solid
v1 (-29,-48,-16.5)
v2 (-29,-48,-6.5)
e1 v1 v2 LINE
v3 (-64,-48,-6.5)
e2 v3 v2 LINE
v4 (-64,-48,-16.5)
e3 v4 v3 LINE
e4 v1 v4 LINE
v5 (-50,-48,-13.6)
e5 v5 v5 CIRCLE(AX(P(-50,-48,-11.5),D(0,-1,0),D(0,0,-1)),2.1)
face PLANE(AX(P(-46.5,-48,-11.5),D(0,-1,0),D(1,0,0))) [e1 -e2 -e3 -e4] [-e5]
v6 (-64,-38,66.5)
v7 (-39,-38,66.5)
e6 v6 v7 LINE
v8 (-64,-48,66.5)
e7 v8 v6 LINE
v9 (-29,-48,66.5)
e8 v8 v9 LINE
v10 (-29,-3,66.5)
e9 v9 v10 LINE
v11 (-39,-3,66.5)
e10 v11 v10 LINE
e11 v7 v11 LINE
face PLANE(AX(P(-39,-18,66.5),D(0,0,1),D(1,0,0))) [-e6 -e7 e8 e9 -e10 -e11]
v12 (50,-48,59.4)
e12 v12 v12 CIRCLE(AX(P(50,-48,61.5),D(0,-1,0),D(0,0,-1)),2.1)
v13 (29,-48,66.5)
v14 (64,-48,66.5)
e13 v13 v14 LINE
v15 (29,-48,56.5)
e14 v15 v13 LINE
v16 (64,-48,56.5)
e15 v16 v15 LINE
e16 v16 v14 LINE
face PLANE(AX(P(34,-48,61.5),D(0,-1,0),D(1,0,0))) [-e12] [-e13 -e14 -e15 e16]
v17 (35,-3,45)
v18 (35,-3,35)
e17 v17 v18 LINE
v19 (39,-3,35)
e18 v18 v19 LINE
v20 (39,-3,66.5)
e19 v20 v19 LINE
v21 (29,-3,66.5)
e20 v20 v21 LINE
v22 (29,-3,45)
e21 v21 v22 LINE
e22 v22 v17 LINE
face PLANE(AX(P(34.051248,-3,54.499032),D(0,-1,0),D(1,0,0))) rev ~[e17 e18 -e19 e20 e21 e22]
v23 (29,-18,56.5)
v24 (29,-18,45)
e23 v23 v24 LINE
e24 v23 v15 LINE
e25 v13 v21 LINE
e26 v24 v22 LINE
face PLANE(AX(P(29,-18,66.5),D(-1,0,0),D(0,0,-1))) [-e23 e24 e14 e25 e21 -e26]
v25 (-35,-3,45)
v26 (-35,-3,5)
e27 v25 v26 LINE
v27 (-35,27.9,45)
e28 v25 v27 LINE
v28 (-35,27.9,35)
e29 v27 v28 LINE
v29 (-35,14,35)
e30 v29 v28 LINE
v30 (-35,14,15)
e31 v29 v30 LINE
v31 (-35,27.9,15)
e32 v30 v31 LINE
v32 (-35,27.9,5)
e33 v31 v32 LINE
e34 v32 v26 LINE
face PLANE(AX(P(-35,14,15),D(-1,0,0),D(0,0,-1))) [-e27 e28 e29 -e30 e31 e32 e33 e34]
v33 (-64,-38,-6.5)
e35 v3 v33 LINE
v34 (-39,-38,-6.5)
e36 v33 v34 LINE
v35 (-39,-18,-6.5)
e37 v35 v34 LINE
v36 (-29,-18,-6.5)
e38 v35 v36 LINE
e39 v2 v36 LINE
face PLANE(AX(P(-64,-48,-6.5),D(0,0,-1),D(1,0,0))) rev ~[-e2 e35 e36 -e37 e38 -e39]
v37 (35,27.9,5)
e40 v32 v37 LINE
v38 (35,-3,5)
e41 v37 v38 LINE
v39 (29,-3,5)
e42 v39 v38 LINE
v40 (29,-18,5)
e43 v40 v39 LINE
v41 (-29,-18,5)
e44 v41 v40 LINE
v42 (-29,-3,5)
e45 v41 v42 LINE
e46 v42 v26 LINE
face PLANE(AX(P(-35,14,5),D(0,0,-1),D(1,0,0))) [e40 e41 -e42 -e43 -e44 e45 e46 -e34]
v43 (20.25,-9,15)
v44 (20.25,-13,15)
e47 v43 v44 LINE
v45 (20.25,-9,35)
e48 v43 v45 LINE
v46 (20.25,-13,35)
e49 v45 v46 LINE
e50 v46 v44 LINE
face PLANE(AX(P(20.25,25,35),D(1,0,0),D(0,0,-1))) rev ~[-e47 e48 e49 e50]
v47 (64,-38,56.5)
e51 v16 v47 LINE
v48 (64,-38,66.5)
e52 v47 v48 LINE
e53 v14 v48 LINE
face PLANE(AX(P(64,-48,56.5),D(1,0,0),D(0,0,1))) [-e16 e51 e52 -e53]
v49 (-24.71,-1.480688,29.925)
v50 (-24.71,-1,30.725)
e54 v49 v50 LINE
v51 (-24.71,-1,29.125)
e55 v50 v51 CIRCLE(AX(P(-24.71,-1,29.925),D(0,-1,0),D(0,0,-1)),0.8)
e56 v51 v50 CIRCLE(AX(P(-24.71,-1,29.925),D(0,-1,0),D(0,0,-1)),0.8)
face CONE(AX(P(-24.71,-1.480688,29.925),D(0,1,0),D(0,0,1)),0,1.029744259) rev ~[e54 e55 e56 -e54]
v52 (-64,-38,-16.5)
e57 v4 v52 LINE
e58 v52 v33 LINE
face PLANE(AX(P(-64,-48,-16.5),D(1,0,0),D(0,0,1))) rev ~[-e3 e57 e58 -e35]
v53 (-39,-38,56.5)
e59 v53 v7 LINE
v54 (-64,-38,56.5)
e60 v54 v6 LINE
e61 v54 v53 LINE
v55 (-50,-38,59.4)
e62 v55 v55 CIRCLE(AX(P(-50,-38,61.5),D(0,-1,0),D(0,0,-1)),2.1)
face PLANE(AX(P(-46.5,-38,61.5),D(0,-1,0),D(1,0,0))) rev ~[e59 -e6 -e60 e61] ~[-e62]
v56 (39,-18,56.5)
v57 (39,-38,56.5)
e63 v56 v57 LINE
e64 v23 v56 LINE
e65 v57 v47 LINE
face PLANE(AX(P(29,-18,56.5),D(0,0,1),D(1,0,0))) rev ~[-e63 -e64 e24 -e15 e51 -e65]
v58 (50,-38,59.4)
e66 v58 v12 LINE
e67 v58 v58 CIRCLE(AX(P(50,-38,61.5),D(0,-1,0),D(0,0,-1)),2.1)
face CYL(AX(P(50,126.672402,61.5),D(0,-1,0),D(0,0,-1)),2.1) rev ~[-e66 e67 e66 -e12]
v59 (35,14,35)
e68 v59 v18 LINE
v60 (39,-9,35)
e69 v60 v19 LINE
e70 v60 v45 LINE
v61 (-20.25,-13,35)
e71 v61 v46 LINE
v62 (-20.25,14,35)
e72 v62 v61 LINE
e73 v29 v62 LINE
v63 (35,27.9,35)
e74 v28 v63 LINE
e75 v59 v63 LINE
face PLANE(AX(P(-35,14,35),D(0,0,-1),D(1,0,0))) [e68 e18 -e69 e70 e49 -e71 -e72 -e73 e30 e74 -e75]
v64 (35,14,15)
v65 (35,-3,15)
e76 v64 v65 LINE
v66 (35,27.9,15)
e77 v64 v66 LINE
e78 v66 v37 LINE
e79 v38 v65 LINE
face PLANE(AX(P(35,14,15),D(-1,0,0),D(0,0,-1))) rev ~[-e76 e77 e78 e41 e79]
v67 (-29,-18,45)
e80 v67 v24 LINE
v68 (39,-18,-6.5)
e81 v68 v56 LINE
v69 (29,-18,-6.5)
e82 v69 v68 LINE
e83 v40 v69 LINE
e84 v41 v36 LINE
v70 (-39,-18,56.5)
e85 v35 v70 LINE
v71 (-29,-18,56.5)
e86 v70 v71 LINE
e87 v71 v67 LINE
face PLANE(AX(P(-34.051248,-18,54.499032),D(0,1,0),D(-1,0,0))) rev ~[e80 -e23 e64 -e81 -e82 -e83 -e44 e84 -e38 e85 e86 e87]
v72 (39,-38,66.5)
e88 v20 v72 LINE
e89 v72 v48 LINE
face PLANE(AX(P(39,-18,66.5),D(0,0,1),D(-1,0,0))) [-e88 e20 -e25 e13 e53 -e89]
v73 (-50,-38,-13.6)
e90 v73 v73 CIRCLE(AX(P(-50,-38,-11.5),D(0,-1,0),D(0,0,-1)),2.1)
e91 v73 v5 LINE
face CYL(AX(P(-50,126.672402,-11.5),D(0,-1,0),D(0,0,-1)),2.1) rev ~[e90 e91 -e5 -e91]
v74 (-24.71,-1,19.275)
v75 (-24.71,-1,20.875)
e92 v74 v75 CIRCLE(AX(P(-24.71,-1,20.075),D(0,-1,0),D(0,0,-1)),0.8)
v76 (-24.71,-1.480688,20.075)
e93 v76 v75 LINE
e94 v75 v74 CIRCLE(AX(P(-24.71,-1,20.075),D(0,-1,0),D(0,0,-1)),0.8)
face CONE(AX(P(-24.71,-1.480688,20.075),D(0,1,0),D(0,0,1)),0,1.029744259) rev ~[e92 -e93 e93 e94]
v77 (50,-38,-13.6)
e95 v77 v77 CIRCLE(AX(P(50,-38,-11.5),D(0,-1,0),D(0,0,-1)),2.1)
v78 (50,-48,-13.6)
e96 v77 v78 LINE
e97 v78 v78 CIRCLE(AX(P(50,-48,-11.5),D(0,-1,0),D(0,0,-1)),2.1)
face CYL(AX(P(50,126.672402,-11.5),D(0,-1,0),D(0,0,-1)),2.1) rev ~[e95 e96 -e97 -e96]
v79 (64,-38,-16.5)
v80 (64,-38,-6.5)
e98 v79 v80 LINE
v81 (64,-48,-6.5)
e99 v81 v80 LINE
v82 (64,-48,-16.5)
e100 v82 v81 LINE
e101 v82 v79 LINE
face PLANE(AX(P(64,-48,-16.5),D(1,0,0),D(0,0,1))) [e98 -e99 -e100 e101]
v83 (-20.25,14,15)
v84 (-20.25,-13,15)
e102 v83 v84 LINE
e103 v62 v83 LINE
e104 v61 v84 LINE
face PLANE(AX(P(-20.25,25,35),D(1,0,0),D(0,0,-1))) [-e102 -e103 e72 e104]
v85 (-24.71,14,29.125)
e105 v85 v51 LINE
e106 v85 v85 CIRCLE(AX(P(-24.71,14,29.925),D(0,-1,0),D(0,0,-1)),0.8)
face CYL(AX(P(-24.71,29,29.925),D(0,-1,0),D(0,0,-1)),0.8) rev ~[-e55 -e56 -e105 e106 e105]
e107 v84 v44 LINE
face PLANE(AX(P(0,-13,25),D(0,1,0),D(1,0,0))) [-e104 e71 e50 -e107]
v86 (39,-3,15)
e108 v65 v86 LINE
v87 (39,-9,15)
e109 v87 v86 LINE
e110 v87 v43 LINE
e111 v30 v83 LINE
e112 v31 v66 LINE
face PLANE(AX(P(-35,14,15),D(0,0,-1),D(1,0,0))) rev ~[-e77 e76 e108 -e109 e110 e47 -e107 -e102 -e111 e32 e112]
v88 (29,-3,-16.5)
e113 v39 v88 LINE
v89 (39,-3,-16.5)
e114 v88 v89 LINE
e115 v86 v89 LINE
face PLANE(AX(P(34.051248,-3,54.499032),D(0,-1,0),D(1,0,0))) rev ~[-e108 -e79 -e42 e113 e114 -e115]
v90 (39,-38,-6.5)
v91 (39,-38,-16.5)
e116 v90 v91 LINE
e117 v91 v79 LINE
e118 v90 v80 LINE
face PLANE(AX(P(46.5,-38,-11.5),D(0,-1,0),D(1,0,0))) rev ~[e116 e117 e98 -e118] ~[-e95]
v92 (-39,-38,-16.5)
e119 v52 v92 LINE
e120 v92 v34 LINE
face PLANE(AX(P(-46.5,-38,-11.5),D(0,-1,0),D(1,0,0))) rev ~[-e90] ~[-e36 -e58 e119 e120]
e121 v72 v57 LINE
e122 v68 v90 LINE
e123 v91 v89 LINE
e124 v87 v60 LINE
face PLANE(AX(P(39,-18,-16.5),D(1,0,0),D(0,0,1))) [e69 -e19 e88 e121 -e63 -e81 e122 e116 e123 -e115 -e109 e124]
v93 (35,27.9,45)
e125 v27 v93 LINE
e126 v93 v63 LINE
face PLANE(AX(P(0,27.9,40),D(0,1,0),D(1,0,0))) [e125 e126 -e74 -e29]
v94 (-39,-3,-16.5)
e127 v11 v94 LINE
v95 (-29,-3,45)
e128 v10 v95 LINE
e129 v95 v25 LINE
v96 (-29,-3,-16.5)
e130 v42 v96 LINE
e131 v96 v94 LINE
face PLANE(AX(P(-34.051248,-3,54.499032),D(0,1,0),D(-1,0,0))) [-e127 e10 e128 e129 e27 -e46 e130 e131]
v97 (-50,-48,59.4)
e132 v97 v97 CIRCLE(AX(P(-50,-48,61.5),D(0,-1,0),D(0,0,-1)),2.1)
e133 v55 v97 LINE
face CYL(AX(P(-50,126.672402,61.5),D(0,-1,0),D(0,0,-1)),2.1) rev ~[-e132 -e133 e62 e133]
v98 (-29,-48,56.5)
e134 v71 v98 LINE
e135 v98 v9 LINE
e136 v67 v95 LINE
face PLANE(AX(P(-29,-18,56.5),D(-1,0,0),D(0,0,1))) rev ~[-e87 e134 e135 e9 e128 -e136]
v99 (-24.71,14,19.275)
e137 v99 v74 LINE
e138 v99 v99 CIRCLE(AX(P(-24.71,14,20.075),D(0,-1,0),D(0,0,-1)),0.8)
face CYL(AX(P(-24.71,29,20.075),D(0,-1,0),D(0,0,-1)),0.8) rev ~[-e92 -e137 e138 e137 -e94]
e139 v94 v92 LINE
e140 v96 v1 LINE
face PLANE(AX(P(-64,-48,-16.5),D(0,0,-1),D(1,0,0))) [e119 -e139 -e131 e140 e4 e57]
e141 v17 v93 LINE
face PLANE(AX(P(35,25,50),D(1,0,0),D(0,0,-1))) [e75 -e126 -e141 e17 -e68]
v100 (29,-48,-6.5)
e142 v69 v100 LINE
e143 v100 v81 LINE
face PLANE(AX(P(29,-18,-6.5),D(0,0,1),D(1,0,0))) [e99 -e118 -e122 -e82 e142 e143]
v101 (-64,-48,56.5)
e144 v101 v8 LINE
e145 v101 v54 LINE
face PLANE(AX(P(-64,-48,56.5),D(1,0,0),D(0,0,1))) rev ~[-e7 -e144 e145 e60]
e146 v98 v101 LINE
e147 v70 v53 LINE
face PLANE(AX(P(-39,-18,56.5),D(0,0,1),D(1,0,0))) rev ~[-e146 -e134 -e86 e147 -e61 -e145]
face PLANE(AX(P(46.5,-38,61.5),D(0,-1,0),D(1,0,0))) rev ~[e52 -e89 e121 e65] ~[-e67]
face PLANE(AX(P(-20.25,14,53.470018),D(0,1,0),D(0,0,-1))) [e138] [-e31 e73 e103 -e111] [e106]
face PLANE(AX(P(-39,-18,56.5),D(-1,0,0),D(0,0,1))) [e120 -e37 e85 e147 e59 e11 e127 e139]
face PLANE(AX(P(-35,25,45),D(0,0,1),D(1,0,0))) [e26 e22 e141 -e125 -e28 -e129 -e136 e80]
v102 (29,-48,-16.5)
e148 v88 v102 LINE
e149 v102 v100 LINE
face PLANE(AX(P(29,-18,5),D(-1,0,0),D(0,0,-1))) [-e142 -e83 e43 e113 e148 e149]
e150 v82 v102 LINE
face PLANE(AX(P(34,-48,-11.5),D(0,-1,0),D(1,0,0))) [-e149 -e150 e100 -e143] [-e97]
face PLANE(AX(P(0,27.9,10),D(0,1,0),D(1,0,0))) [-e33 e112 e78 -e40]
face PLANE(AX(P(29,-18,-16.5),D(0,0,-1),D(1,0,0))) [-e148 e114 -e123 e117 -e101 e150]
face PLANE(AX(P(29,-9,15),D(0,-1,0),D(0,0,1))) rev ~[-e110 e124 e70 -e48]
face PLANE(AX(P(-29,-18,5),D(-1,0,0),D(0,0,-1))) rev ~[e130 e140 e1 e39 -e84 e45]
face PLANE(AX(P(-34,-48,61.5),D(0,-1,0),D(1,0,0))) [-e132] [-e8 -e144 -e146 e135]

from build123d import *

# Parameters (mm, degrees)
ESQUISSE1_W                          = 70
ESQUISSE1_H                          = 50
BOSS_EXTRU_1_DEPTH                   = 50
ESQUISSE2_W                          = 40.5
ESQUISSE2_H                          = 20
ENL_V_MAT_EXTRU_1_DEPTH              = 38
ESQUISSE3_W                          = 9.502474521
ESQUISSE3_H                          = 20
ENL_V_MAT_EXTRU_2_DEPTH              = 11
ESQUISSE4_R                          = 60.076490873
ESQUISSE4_R_2                        = 49.5
BOSS_EXTRU_2_DEPTH                   = 50
ESQUISSE5_W                          = 60
ESQUISSE5_H                          = 40
ENL_V_MAT_EXTRU_3_DEPTH              = 24
R_P_TITION_CIRCULAIRE1_COUNT         = 5
ESQUISSE12_W                         = 74.3
ESQUISSE12_H                         = 74.3
BOSS_EXTRU_7_DEPTH                   = 28
ESQUISSE13_W                         = 160
ESQUISSE13_H                         = 18
BOSS_EXTRU_8_DEPTH                   = 10
ESQUISSE15_R                         = 60.076490873
BOSS_EXTRU_9_DEPTH                   = 5
ESQUISSE16_W                         = 60
ESQUISSE16_H                         = 70
ENL_V_MAT_EXTRU_4_DEPTH              = 28
ENL_V_MAT_EXTRU_5_REACH              = 156.276
ESQUISSE17_W                         = 60.3
ESQUISSE17_H                         = 28
ENL_V_MAT_EXTRU_6_REACH              = 138.609
ESQUISSE18_W                         = 54.3
ESQUISSE18_H                         = 15.510808694
TROU_TARAUD_M5X0_82_D                = 4.2
TROU_TARAUD_M5X0_82_DEPTH            = 54.927
TROU_TARAUD_M5X0_82_TIP              = 1.2618073
TROU_TARAUD_M5X0_83_D                = 4.2
TROU_TARAUD_M5X0_83_DEPTH            = 54.927
TROU_TARAUD_M5X0_83_TIP              = 1.2618073
CONG_1_R                             = 10
ESQUISSE25_W                         = 16.470730929
ESQUISSE25_H                         = 20
ENL_V_MAT_EXTRU_7_DEPTH              = 34
TROU_TARAUD_M2X0_41_D                = 1.6
TROU_TARAUD_M2X0_41_DEPTH            = 15
TROU_TARAUD_M2X0_41_TIP              = 0.480688495
ESQUISSE28_W                         = 183.397651828
ESQUISSE28_H                         = 123.598647098
ESQUISSE28_W_2                       = 70
ESQUISSE28_H_2                       = 50
ENL_V_MAT_EXTRU_9_DEPTH              = 78
ESQUISSE29_W                         = 76.828034685
ESQUISSE29_H                         = 56.156318878
ENL_V_MAT_EXTRU_10_DEPTH             = 7
ESQUISSE30_W                         = 96.69394631
ESQUISSE30_H                         = 62.030078765
ESQUISSE30_W_2                       = 70
ESQUISSE30_H_2                       = 40
ENL_V_MAT_EXTRU_12_DEPTH             = 43
BOSS_EXTRU_10_DEPTH                  = 15
ESQUISSE35_W                         = 10
ESQUISSE35_H                         = 10
BOSS_EXTRU_12_DEPTH                  = 30
ESQUISSE36_W                         = 10
ESQUISSE36_H                         = 15
BOSS_EXTRU_13_DEPTH                  = 83
ESQUISSE37_W                         = 35
ESQUISSE37_H                         = 10
ESQUISSE37_R                         = 2
BOSS_EXTRU_14_DEPTH                  = 10
ENL_V_MAT_EXTRU_13_REACH             = 119.577
ESQUISSE38_W                         = 51.96710629
ESQUISSE38_H                         = 11.935029196
ENL_V_MAT_EXTRU_13_DIRECTION_2_REACH = 119.577
TROU_TARAUD_M5X0_84_D                = 4.2
ESQUISSE41_W                         = 20
ESQUISSE41_H                         = 6
ENL_V_MAT_EXTRU_14_DEPTH             = 10
ESQUISSE42_W                         = 70
ESQUISSE42_H                         = 10
BOSS_EXTRU_15_DEPTH                  = 13.9


with BuildPart() as part:
    # Esquisse1 → Boss.-Extru.1 (new body)
    with BuildSketch(Plane.XY):
        Rectangle(ESQUISSE1_W, ESQUISSE1_H)
    extrude(amount=BOSS_EXTRU_1_DEPTH)

    # Esquisse2 → Enlèv. mat.-Extru.1 (cut)
    with BuildSketch(Plane(origin=(0, 25, 0), x_dir=(1, 0, 0), z_dir=(0, 1, 0))):
        with Locations((0, -25)):
            Rectangle(ESQUISSE2_W, ESQUISSE2_H)
    extrude(amount=-ENL_V_MAT_EXTRU_1_DEPTH, mode=Mode.SUBTRACT)

    # Esquisse3 → Enlèv. mat.-Extru.2 (cut)
    with BuildSketch(Plane(origin=(0, 25, 0), x_dir=(1, 0, 0), z_dir=(0, 1, 0))):
        with Locations((25.001237261, -25)):
            Rectangle(ESQUISSE3_W, ESQUISSE3_H)
        with Locations((-25.001237261, -25)):
            Rectangle(ESQUISSE3_W, ESQUISSE3_H)
    extrude(amount=-ENL_V_MAT_EXTRU_2_DEPTH, mode=Mode.SUBTRACT)

    # Esquisse4 → Boss.-Extru.2 (add)
    # profile 1 of 7: a face of its own
    with BuildSketch(Plane(origin=(0, 25, 0), x_dir=(1, 0, 0), z_dir=(0, 1, 0))):
        with Locations(Location((0, -25.176679726, 0), (0, 0, 270))):
            Circle(ESQUISSE4_R)
        with Locations(Location((0, -25.176679726, 0), (0, 0, 270))):
            Circle(ESQUISSE4_R_2, mode=Mode.SUBTRACT)
    # profile 2 of 7: a face of its own
    with BuildSketch(Plane(origin=(0, 25, 0), x_dir=(1, 0, 0), z_dir=(0, 1, 0))):
        with BuildLine():
            ThreePointArc((24.673928965, -50), (32.315534297, -38.619381951), (35, -25.176679726))
            ThreePointArc((35, -25.176679726), (32.217729855, -11.501231543), (24.313263828, 0))
            Line((24.313263828, 0), (20.744399349, 0))
            ThreePointArc((20.744399349, 0), (29.503552635, -11.257782921), (32.622006474, -25.176679726))
            ThreePointArc((32.622006474, -25.176679726), (29.619854452, -38.846336948), (21.16596506, -50))
            Line((21.16596506, -50), (24.673928965, -50))
        make_face()
    # profile 3 of 7: a face of its own
    with BuildSketch(Plane(origin=(0, 25, 0), x_dir=(1, 0, 0), z_dir=(0, 1, 0))):
        with BuildLine():
            Line((-20.744399349, 0), (-24.313263828, 0))
            ThreePointArc((-24.313263828, 0), (-34.99908948, -24.924220698), (-24.673928965, -50))
            Line((-24.673928965, -50), (-21.16596506, -50))
            ThreePointArc((-21.16596506, -50), (-32.620847034, -24.901643114), (-20.744399349, 0))
        make_face()
    # profile 4 of 7: a face of its own
    with BuildSketch(Plane(origin=(0, 25, 0), x_dir=(1, 0, 0), z_dir=(0, 1, 0))):
        with BuildLine():
            Line((20.744399349, 0), (24.313263828, 0))
            ThreePointArc((24.313263828, 0), (0, 9.823320274), (-24.313263828, 0))
            Line((-24.313263828, 0), (-20.744399349, 0))
            ThreePointArc((-20.744399349, 0), (0, 7.445326748), (20.744399349, 0))
        make_face()
    # profile 5 of 7: a face of its own
    with BuildSketch(Plane(origin=(0, 25, 0), x_dir=(1, 0, 0), z_dir=(0, 1, 0))):
        with BuildLine():
            ThreePointArc((24.673928965, -50), (32.315534297, -38.619381951), (35, -25.176679726))
            ThreePointArc((35, -25.176679726), (32.217729855, -11.501231543), (24.313263828, 0))
            Line((24.313263828, 0), (20.744399349, 0))
            ThreePointArc((20.744399349, 0), (29.503552635, -11.257782921), (32.622006474, -25.176679726))
            ThreePointArc((32.622006474, -25.176679726), (29.619854452, -38.846336948), (21.16596506, -50))
            Line((21.16596506, -50), (24.673928965, -50))
        make_face()
    # profile 6 of 7: a face of its own
    with BuildSketch(Plane(origin=(0, 25, 0), x_dir=(1, 0, 0), z_dir=(0, 1, 0))):
        with BuildLine():
            Line((-20.744399349, 0), (-24.313263828, 0))
            ThreePointArc((-24.313263828, 0), (-34.99908948, -24.924220698), (-24.673928965, -50))
            Line((-24.673928965, -50), (-21.16596506, -50))
            ThreePointArc((-21.16596506, -50), (-32.620847034, -24.901643114), (-20.744399349, 0))
        make_face()
    # profile 7 of 7: a face of its own
    with BuildSketch(Plane(origin=(0, 25, 0), x_dir=(1, 0, 0), z_dir=(0, 1, 0))):
        with BuildLine():
            ThreePointArc((-24.673928965, -50), (0, -60.176679726), (24.673928965, -50))
            Line((24.673928965, -50), (21.16596506, -50))
            ThreePointArc((21.16596506, -50), (0, -57.798686199), (-21.16596506, -50))
            Line((-21.16596506, -50), (-24.673928965, -50))
        make_face()
    extrude(amount=-BOSS_EXTRU_2_DEPTH)


with BuildPart() as boss_extru_2_piece_1:
    # of the separate pieces the step leaves, piece 1, a body of its own (boss_extru_2_pieces)
    add(part.part.solids().sort_by_distance((0, 25, 85.253170599))[0])

    # Esquisse5 → Enlèv. mat.-Extru.3 (cut)
    with BuildSketch(Plane(origin=(60.076490873, 0, 0), x_dir=(0, 0, -1), z_dir=(1, 0, 0))):
        with Locations((-25.176679726, 0)):
            Rectangle(ESQUISSE5_W, ESQUISSE5_H)
    enl_v_mat_extru_3 = extrude(amount=-ENL_V_MAT_EXTRU_3_DEPTH, mode=Mode.SUBTRACT)

    # Répétition circulaire1: Enlèv. mat.-Extru.3 ×5 about axis
    r_p_tition_circulaire1_axis = Axis((0, 0, 25.176679726), (0, 1, 0))
    for i in range(1, R_P_TITION_CIRCULAIRE1_COUNT):
        add(enl_v_mat_extru_3.rotate(r_p_tition_circulaire1_axis, i * 360 / R_P_TITION_CIRCULAIRE1_COUNT), mode=Mode.SUBTRACT)



with BuildPart() as boss_extru_2_piece_2:
    # of the separate pieces the step leaves, piece 2, a body of its own (boss_extru_2_pieces)
    add(part.part.solids().sort_by_distance((-35, 25, 0))[0])


with BuildPart() as boss_extru_2_piece_1_1:
    add(boss_extru_2_piece_1.part)

    add(boss_extru_2_piece_2.part)  # Boss.-Extru.7 merges Boss.-Extru.2 piece 2
    # Esquisse12 → Boss.-Extru.7 (add)
    with BuildSketch(Plane.XZ.offset(25)):
        with Locations((0, 25.176679726)):
            Rectangle(ESQUISSE12_W, ESQUISSE12_H)
    extrude(amount=BOSS_EXTRU_7_DEPTH)

    # Esquisse13 → Boss.-Extru.8 (add)
    with BuildSketch(Plane.XZ.offset(53)):
        with Locations((0, 71.326679726)):
            Rectangle(ESQUISSE13_W, ESQUISSE13_H)
        with Locations((0, -20.973320274)):
            Rectangle(ESQUISSE13_W, ESQUISSE13_H)
    extrude(amount=-BOSS_EXTRU_8_DEPTH)

    # Esquisse15 → Boss.-Extru.9 (add)
    with BuildSketch(Plane(origin=(0, -20, 0), x_dir=(1, 0, 0), z_dir=(0, 1, 0))):
        with Locations(Location((0, -25.176679726, 0), (0, 0, 270))):
            Circle(ESQUISSE15_R)
    extrude(amount=-BOSS_EXTRU_9_DEPTH)

    # Esquisse16 → Enlèv. mat.-Extru.4 (cut)
    with BuildSketch(Plane.XZ.offset(53)):
        with Locations((3.15, 25.176679726)):
            Rectangle(ESQUISSE16_W, ESQUISSE16_H)
    extrude(amount=-ENL_V_MAT_EXTRU_4_DEPTH, mode=Mode.SUBTRACT)

    # Enlèv. mat.-Extru.5: up to this face of the body (flat: up to its plane)
    enl_v_mat_extru_5_end = Plane(boss_extru_2_piece_1_1.part.faces().sort_by_distance((-37.15, -39, 25.176679726))[0])
    # Esquisse17 → Enlèv. mat.-Extru.5 (cut, up to the picked face)
    with BuildSketch(Plane(origin=(37.15, 0, 0), x_dir=(0, 0, -1), z_dir=(1, 0, 0)), mode=Mode.PRIVATE) as enl_v_mat_extru_5_sk1:
        with Locations((-25.176679726, -39)):
            Rectangle(ESQUISSE17_W, ESQUISSE17_H)
    enl_v_mat_extru_5_tool1 = split(extrude(enl_v_mat_extru_5_sk1.sketch, amount=-ENL_V_MAT_EXTRU_5_REACH, mode=Mode.PRIVATE), bisect_by=enl_v_mat_extru_5_end, keep=Keep.BOTH, mode=Mode.PRIVATE)
    add(enl_v_mat_extru_5_tool1.solids().sort_by(Axis((37.15, -39, 25.17668), (-1, 0, 0)))[0], mode=Mode.SUBTRACT)

    # Enlèv. mat.-Extru.6: up to this face of the body (flat: up to its plane)
    enl_v_mat_extru_6_end = Plane(boss_extru_2_piece_1_1.part.faces().sort_by_distance((0, -34, -11.973320274))[0])
    # Esquisse18 → Enlèv. mat.-Extru.6 (cut, up to the picked face)
    with BuildSketch(Plane.XY.offset(62.326679726), mode=Mode.PRIVATE) as enl_v_mat_extru_6_sk1:
        with Locations((0, -35.244595653)):
            Rectangle(ESQUISSE18_W, ESQUISSE18_H)
    enl_v_mat_extru_6_tool1 = split(extrude(enl_v_mat_extru_6_sk1.sketch, amount=-ENL_V_MAT_EXTRU_6_REACH, mode=Mode.PRIVATE), bisect_by=enl_v_mat_extru_6_end, keep=Keep.BOTH, mode=Mode.PRIVATE)
    add(enl_v_mat_extru_6_tool1.solids().sort_by(Axis((0, -35.244596, 62.32668), (0, 0, -1)))[0], mode=Mode.SUBTRACT)

    # Trou taraudé M5x0.82
    with Locations(Plane(origin=(-57.931903984, -53, -18.999181229), x_dir=(0, 0, -1), z_dir=(0, -1, 0))):
        with Locations((0, 0), (-88.38422, 0.087735642)):
            Hole(TROU_TARAUD_M5X0_82_D / 2, depth=TROU_TARAUD_M5X0_82_DEPTH)
            with Locations((0, 0, -(TROU_TARAUD_M5X0_82_DEPTH + TROU_TARAUD_M5X0_82_TIP / 2))):  # 118° drill point
                Cone(0, TROU_TARAUD_M5X0_82_D / 2, TROU_TARAUD_M5X0_82_TIP, mode=Mode.SUBTRACT)

    # Trou taraudé M5x0.83
    with Locations(Plane(origin=(67.121659864, -53, 69.376817601), x_dir=(0, 0, -1), z_dir=(0, -1, 0))):
        with Locations((0, 0), (88.384296015, 0.049521474)):
            Hole(TROU_TARAUD_M5X0_83_D / 2, depth=TROU_TARAUD_M5X0_83_DEPTH)
            with Locations((0, 0, -(TROU_TARAUD_M5X0_83_DEPTH + TROU_TARAUD_M5X0_83_TIP / 2))):  # 118° drill point
                Cone(0, TROU_TARAUD_M5X0_83_D / 2, TROU_TARAUD_M5X0_83_TIP, mode=Mode.SUBTRACT)

    # Congé1
    cong_1_edges = [boss_extru_2_piece_1_1.edges().sort_by_distance(p)[0] for p in [
        (-32.15, -43, 62.326679726),
        (32.15, -43, -11.973320274),
        (32.15, -43, 62.326679726),
        (-32.15, -43, -11.973320274),
    ]]
    fillet(cong_1_edges, radius=CONG_1_R)

    # Esquisse25 → Enlèv. mat.-Extru.7 (cut)
    with BuildSketch(Plane(origin=(0, 25, 0), x_dir=(1, 0, 0), z_dir=(0, 1, 0))):
        with Locations((26.764634536, -25)):
            Rectangle(ESQUISSE25_W, ESQUISSE25_H)
    extrude(amount=-ENL_V_MAT_EXTRU_7_DEPTH, mode=Mode.SUBTRACT)

    # Trou taraudé M2x0.41
    with Locations(Plane(origin=(-24.71, 14, 20.075), x_dir=(0, 0, 1), z_dir=(0, 1, 0))):
        with Locations((0, 0), (9.85, 0)):
            Hole(TROU_TARAUD_M2X0_41_D / 2, depth=TROU_TARAUD_M2X0_41_DEPTH)
            with Locations((0, 0, -(TROU_TARAUD_M2X0_41_DEPTH + TROU_TARAUD_M2X0_41_TIP / 2))):  # 118° drill point
                Cone(0, TROU_TARAUD_M2X0_41_D / 2, TROU_TARAUD_M2X0_41_TIP, mode=Mode.SUBTRACT)

    # Esquisse28 → Enlèv. mat.-Extru.9 (cut)
    with BuildSketch(Plane(origin=(0, 25, 0), x_dir=(1, 0, 0), z_dir=(0, 1, 0))):
        with Locations((-1.368639193, -26.124199167)):
            Rectangle(ESQUISSE28_W, ESQUISSE28_H)
        with Locations((0, -25)):
            Rectangle(ESQUISSE28_W_2, ESQUISSE28_H_2, mode=Mode.SUBTRACT)
    extrude(amount=-ENL_V_MAT_EXTRU_9_DEPTH, mode=Mode.SUBTRACT)

    # Esquisse29 → Enlèv. mat.-Extru.10 (cut)
    with BuildSketch(Plane.XZ.offset(25)):
        with Locations((-0.165815903, 24.336736391)):
            Rectangle(ESQUISSE29_W, ESQUISSE29_H)
    extrude(amount=-ENL_V_MAT_EXTRU_10_DEPTH, mode=Mode.SUBTRACT)

    # Esquisse30 → Enlèv. mat.-Extru.12 (cut)
    with BuildSketch(Plane(origin=(0, 25, 0), x_dir=(1, 0, 0), z_dir=(0, 1, 0))):
        with Locations((-2.735660047, -26.938439962)):
            Rectangle(ESQUISSE30_W, ESQUISSE30_H)
        with Locations((0, -25)):
            Rectangle(ESQUISSE30_W_2, ESQUISSE30_H_2, mode=Mode.SUBTRACT)
    extrude(amount=-ENL_V_MAT_EXTRU_12_DEPTH, mode=Mode.SUBTRACT)

    # Esquisse32 → Boss.-Extru.10 (add)
    with BuildSketch(Plane.XZ.offset(18)):
        with BuildLine():
            Line((-39, 66.5), (-29, 66.5))
            Line((-29, 66.5), (-29, 45))
            ThreePointArc((-29, 45), (-31.944624802, 42.375028916), (-35, 39.879839382))
            Line((-35, 39.879839382), (-39, 45))
            Line((-39, 45), (-39, 66.5))
        make_face()
        with BuildLine():
            Line((29, 66.5), (29, 45))
            ThreePointArc((29, 45), (31.944624802, 42.375028916), (35, 39.879839382))
            Line((35, 39.879839382), (39, 45))
            Line((39, 45), (39, 66.5))
            Line((39, 66.5), (29, 66.5))
        make_face()
        with BuildLine():
            Line((39, -16.5), (39, 5))
            Line((39, 5), (35, 10.120160618))
            ThreePointArc((35, 10.120160618), (31.944624802, 7.624971084), (29, 5))
            Line((29, 5), (29, -16.5))
            Line((29, -16.5), (39, -16.5))
        make_face()
        with BuildLine():
            Line((-39, 5), (-35, 10.120160618))
            ThreePointArc((-35, 10.120160618), (-31.944624802, 7.624971084), (-29, 5))
            Line((-29, 5), (-29, -16.5))
            Line((-29, -16.5), (-39, -16.5))
            Line((-39, -16.5), (-39, 5))
        make_face()
    extrude(amount=-BOSS_EXTRU_10_DEPTH)

    # Esquisse35 → Boss.-Extru.12 (add)
    with BuildSketch(Plane.XZ.offset(18)):
        with Locations((-34, 61.5)):
            Rectangle(ESQUISSE35_W, ESQUISSE35_H)
        with Locations((-34, -11.5)):
            Rectangle(ESQUISSE35_W, ESQUISSE35_H)
        with Locations((34, -11.5)):
            Rectangle(ESQUISSE35_W, ESQUISSE35_H)
        with Locations((34, 61.5)):
            Rectangle(ESQUISSE35_W, ESQUISSE35_H)
    extrude(amount=BOSS_EXTRU_12_DEPTH)

    # Esquisse36 → Boss.-Extru.13 (add)
    with BuildSketch(Plane.XY.offset(66.5)):
        with Locations((-34, -10.5)):
            Rectangle(ESQUISSE36_W, ESQUISSE36_H)
        with Locations((34, -10.5)):
            Rectangle(ESQUISSE36_W, ESQUISSE36_H)
    extrude(amount=-BOSS_EXTRU_13_DEPTH)

    # Esquisse37 → Boss.-Extru.14 (add)
    # profile 1 of 4: a face of its own
    with BuildSketch(Plane.XZ.offset(48)):
        with Locations((-46.5, -11.5)):
            Rectangle(ESQUISSE37_W, ESQUISSE37_H)
        with Locations(Location((-50, -11.5, 0), (0, 0, 90))):
            Circle(ESQUISSE37_R, mode=Mode.SUBTRACT)
    # profile 2 of 4: a face of its own
    with BuildSketch(Plane.XZ.offset(48)):
        with Locations((-46.5, 61.5)):
            Rectangle(ESQUISSE37_W, ESQUISSE37_H)
        with Locations(Location((-50, 61.5, 0), (0, 0, 270))):
            Circle(ESQUISSE37_R, mode=Mode.SUBTRACT)
    # profile 3 of 4: a face of its own
    with BuildSketch(Plane.XZ.offset(48)):
        with Locations((46.5, -11.5)):
            Rectangle(ESQUISSE37_W, ESQUISSE37_H)
        with Locations(Location((50, -11.5, 0), (0, 0, 270))):
            Circle(ESQUISSE37_R, mode=Mode.SUBTRACT)
    # profile 4 of 4: a face of its own
    with BuildSketch(Plane.XZ.offset(48)):
        with Locations((46.5, 61.5)):
            Rectangle(ESQUISSE37_W, ESQUISSE37_H)
        with Locations(Location((50, 61.5, 0), (0, 0, 90))):
            Circle(ESQUISSE37_R, mode=Mode.SUBTRACT)
    extrude(amount=-BOSS_EXTRU_14_DEPTH)

    # Enlèv. mat.-Extru.13: up to this face of the body (flat: up to its plane)
    enl_v_mat_extru_13_end = Plane(boss_extru_2_piece_1_1.part.faces().sort_by_distance((-35, 11, 25))[0])
    # Esquisse38 → Enlèv. mat.-Extru.13 (cut, up to the picked face)
    with BuildSketch(Plane(origin=(-20.25, 0, 0), x_dir=(0, 0, -1), z_dir=(1, 0, 0)), mode=Mode.PRIVATE) as enl_v_mat_extru_13_sk1:
        with Locations((-27.486464416, 19.967514598)):
            Rectangle(ESQUISSE38_W, ESQUISSE38_H)
    enl_v_mat_extru_13_tool1 = split(extrude(enl_v_mat_extru_13_sk1.sketch, amount=-ENL_V_MAT_EXTRU_13_REACH, mode=Mode.PRIVATE), bisect_by=enl_v_mat_extru_13_end, keep=Keep.BOTH, mode=Mode.PRIVATE)
    add(enl_v_mat_extru_13_tool1.solids().sort_by(Axis((-20.25, 19.967515, 27.486464), (-1, 0, 0)))[0], mode=Mode.SUBTRACT)

    # Enlèv. mat.-Extru.13 direction 2: up to this face of the body (flat: up to its plane)
    enl_v_mat_extru_13_direction_2_end = Plane(boss_extru_2_piece_1_1.part.faces().sort_by_distance((35, 11, 40))[0])
    # Esquisse38 → Enlèv. mat.-Extru.13 direction 2 (cut, up to the picked face)
    with BuildSketch(Plane(origin=(-20.25, 0, 0), x_dir=(0, 0, -1), z_dir=(1, 0, 0)), mode=Mode.PRIVATE) as enl_v_mat_extru_13_direction_2_sk1:
        with Locations((-27.486464416, 19.967514598)):
            Rectangle(ESQUISSE38_W, ESQUISSE38_H)
    enl_v_mat_extru_13_direction_2_tool1 = split(extrude(enl_v_mat_extru_13_direction_2_sk1.sketch, amount=ENL_V_MAT_EXTRU_13_DIRECTION_2_REACH, mode=Mode.PRIVATE), bisect_by=enl_v_mat_extru_13_direction_2_end, keep=Keep.BOTH, mode=Mode.PRIVATE)
    add(enl_v_mat_extru_13_direction_2_tool1.solids().sort_by(Axis((-20.25, 19.967515, 27.486464), (1, 0, 0)))[0], mode=Mode.SUBTRACT)

    # Trou taraudé M5x0.84 (through all)
    with Locations(Plane(origin=(-50, -38, -11.5), x_dir=(0, 0, 1), z_dir=(0, 1, 0))):
        with Locations((0, 0), (0, 100), (73, 100), (73, 0)):
            Hole(TROU_TARAUD_M5X0_84_D / 2)

    # Esquisse41 → Enlèv. mat.-Extru.14 (cut)
    with BuildSketch(Plane.ZY.offset(-29)):
        with Locations((25, -6)):
            Rectangle(ESQUISSE41_W, ESQUISSE41_H)
    extrude(amount=-ENL_V_MAT_EXTRU_14_DEPTH, mode=Mode.SUBTRACT)

    # Esquisse42 → Boss.-Extru.15 (add)
    with BuildSketch(Plane(origin=(0, 14, 0), x_dir=(1, 0, 0), z_dir=(0, 1, 0))):
        with Locations((0, -10)):
            Rectangle(ESQUISSE42_W, ESQUISSE42_H)
        with Locations((0, -40)):
            Rectangle(ESQUISSE42_W, ESQUISSE42_H)
    extrude(amount=BOSS_EXTRU_15_DEPTH)


solid = boss_extru_2_piece_1_1.part
